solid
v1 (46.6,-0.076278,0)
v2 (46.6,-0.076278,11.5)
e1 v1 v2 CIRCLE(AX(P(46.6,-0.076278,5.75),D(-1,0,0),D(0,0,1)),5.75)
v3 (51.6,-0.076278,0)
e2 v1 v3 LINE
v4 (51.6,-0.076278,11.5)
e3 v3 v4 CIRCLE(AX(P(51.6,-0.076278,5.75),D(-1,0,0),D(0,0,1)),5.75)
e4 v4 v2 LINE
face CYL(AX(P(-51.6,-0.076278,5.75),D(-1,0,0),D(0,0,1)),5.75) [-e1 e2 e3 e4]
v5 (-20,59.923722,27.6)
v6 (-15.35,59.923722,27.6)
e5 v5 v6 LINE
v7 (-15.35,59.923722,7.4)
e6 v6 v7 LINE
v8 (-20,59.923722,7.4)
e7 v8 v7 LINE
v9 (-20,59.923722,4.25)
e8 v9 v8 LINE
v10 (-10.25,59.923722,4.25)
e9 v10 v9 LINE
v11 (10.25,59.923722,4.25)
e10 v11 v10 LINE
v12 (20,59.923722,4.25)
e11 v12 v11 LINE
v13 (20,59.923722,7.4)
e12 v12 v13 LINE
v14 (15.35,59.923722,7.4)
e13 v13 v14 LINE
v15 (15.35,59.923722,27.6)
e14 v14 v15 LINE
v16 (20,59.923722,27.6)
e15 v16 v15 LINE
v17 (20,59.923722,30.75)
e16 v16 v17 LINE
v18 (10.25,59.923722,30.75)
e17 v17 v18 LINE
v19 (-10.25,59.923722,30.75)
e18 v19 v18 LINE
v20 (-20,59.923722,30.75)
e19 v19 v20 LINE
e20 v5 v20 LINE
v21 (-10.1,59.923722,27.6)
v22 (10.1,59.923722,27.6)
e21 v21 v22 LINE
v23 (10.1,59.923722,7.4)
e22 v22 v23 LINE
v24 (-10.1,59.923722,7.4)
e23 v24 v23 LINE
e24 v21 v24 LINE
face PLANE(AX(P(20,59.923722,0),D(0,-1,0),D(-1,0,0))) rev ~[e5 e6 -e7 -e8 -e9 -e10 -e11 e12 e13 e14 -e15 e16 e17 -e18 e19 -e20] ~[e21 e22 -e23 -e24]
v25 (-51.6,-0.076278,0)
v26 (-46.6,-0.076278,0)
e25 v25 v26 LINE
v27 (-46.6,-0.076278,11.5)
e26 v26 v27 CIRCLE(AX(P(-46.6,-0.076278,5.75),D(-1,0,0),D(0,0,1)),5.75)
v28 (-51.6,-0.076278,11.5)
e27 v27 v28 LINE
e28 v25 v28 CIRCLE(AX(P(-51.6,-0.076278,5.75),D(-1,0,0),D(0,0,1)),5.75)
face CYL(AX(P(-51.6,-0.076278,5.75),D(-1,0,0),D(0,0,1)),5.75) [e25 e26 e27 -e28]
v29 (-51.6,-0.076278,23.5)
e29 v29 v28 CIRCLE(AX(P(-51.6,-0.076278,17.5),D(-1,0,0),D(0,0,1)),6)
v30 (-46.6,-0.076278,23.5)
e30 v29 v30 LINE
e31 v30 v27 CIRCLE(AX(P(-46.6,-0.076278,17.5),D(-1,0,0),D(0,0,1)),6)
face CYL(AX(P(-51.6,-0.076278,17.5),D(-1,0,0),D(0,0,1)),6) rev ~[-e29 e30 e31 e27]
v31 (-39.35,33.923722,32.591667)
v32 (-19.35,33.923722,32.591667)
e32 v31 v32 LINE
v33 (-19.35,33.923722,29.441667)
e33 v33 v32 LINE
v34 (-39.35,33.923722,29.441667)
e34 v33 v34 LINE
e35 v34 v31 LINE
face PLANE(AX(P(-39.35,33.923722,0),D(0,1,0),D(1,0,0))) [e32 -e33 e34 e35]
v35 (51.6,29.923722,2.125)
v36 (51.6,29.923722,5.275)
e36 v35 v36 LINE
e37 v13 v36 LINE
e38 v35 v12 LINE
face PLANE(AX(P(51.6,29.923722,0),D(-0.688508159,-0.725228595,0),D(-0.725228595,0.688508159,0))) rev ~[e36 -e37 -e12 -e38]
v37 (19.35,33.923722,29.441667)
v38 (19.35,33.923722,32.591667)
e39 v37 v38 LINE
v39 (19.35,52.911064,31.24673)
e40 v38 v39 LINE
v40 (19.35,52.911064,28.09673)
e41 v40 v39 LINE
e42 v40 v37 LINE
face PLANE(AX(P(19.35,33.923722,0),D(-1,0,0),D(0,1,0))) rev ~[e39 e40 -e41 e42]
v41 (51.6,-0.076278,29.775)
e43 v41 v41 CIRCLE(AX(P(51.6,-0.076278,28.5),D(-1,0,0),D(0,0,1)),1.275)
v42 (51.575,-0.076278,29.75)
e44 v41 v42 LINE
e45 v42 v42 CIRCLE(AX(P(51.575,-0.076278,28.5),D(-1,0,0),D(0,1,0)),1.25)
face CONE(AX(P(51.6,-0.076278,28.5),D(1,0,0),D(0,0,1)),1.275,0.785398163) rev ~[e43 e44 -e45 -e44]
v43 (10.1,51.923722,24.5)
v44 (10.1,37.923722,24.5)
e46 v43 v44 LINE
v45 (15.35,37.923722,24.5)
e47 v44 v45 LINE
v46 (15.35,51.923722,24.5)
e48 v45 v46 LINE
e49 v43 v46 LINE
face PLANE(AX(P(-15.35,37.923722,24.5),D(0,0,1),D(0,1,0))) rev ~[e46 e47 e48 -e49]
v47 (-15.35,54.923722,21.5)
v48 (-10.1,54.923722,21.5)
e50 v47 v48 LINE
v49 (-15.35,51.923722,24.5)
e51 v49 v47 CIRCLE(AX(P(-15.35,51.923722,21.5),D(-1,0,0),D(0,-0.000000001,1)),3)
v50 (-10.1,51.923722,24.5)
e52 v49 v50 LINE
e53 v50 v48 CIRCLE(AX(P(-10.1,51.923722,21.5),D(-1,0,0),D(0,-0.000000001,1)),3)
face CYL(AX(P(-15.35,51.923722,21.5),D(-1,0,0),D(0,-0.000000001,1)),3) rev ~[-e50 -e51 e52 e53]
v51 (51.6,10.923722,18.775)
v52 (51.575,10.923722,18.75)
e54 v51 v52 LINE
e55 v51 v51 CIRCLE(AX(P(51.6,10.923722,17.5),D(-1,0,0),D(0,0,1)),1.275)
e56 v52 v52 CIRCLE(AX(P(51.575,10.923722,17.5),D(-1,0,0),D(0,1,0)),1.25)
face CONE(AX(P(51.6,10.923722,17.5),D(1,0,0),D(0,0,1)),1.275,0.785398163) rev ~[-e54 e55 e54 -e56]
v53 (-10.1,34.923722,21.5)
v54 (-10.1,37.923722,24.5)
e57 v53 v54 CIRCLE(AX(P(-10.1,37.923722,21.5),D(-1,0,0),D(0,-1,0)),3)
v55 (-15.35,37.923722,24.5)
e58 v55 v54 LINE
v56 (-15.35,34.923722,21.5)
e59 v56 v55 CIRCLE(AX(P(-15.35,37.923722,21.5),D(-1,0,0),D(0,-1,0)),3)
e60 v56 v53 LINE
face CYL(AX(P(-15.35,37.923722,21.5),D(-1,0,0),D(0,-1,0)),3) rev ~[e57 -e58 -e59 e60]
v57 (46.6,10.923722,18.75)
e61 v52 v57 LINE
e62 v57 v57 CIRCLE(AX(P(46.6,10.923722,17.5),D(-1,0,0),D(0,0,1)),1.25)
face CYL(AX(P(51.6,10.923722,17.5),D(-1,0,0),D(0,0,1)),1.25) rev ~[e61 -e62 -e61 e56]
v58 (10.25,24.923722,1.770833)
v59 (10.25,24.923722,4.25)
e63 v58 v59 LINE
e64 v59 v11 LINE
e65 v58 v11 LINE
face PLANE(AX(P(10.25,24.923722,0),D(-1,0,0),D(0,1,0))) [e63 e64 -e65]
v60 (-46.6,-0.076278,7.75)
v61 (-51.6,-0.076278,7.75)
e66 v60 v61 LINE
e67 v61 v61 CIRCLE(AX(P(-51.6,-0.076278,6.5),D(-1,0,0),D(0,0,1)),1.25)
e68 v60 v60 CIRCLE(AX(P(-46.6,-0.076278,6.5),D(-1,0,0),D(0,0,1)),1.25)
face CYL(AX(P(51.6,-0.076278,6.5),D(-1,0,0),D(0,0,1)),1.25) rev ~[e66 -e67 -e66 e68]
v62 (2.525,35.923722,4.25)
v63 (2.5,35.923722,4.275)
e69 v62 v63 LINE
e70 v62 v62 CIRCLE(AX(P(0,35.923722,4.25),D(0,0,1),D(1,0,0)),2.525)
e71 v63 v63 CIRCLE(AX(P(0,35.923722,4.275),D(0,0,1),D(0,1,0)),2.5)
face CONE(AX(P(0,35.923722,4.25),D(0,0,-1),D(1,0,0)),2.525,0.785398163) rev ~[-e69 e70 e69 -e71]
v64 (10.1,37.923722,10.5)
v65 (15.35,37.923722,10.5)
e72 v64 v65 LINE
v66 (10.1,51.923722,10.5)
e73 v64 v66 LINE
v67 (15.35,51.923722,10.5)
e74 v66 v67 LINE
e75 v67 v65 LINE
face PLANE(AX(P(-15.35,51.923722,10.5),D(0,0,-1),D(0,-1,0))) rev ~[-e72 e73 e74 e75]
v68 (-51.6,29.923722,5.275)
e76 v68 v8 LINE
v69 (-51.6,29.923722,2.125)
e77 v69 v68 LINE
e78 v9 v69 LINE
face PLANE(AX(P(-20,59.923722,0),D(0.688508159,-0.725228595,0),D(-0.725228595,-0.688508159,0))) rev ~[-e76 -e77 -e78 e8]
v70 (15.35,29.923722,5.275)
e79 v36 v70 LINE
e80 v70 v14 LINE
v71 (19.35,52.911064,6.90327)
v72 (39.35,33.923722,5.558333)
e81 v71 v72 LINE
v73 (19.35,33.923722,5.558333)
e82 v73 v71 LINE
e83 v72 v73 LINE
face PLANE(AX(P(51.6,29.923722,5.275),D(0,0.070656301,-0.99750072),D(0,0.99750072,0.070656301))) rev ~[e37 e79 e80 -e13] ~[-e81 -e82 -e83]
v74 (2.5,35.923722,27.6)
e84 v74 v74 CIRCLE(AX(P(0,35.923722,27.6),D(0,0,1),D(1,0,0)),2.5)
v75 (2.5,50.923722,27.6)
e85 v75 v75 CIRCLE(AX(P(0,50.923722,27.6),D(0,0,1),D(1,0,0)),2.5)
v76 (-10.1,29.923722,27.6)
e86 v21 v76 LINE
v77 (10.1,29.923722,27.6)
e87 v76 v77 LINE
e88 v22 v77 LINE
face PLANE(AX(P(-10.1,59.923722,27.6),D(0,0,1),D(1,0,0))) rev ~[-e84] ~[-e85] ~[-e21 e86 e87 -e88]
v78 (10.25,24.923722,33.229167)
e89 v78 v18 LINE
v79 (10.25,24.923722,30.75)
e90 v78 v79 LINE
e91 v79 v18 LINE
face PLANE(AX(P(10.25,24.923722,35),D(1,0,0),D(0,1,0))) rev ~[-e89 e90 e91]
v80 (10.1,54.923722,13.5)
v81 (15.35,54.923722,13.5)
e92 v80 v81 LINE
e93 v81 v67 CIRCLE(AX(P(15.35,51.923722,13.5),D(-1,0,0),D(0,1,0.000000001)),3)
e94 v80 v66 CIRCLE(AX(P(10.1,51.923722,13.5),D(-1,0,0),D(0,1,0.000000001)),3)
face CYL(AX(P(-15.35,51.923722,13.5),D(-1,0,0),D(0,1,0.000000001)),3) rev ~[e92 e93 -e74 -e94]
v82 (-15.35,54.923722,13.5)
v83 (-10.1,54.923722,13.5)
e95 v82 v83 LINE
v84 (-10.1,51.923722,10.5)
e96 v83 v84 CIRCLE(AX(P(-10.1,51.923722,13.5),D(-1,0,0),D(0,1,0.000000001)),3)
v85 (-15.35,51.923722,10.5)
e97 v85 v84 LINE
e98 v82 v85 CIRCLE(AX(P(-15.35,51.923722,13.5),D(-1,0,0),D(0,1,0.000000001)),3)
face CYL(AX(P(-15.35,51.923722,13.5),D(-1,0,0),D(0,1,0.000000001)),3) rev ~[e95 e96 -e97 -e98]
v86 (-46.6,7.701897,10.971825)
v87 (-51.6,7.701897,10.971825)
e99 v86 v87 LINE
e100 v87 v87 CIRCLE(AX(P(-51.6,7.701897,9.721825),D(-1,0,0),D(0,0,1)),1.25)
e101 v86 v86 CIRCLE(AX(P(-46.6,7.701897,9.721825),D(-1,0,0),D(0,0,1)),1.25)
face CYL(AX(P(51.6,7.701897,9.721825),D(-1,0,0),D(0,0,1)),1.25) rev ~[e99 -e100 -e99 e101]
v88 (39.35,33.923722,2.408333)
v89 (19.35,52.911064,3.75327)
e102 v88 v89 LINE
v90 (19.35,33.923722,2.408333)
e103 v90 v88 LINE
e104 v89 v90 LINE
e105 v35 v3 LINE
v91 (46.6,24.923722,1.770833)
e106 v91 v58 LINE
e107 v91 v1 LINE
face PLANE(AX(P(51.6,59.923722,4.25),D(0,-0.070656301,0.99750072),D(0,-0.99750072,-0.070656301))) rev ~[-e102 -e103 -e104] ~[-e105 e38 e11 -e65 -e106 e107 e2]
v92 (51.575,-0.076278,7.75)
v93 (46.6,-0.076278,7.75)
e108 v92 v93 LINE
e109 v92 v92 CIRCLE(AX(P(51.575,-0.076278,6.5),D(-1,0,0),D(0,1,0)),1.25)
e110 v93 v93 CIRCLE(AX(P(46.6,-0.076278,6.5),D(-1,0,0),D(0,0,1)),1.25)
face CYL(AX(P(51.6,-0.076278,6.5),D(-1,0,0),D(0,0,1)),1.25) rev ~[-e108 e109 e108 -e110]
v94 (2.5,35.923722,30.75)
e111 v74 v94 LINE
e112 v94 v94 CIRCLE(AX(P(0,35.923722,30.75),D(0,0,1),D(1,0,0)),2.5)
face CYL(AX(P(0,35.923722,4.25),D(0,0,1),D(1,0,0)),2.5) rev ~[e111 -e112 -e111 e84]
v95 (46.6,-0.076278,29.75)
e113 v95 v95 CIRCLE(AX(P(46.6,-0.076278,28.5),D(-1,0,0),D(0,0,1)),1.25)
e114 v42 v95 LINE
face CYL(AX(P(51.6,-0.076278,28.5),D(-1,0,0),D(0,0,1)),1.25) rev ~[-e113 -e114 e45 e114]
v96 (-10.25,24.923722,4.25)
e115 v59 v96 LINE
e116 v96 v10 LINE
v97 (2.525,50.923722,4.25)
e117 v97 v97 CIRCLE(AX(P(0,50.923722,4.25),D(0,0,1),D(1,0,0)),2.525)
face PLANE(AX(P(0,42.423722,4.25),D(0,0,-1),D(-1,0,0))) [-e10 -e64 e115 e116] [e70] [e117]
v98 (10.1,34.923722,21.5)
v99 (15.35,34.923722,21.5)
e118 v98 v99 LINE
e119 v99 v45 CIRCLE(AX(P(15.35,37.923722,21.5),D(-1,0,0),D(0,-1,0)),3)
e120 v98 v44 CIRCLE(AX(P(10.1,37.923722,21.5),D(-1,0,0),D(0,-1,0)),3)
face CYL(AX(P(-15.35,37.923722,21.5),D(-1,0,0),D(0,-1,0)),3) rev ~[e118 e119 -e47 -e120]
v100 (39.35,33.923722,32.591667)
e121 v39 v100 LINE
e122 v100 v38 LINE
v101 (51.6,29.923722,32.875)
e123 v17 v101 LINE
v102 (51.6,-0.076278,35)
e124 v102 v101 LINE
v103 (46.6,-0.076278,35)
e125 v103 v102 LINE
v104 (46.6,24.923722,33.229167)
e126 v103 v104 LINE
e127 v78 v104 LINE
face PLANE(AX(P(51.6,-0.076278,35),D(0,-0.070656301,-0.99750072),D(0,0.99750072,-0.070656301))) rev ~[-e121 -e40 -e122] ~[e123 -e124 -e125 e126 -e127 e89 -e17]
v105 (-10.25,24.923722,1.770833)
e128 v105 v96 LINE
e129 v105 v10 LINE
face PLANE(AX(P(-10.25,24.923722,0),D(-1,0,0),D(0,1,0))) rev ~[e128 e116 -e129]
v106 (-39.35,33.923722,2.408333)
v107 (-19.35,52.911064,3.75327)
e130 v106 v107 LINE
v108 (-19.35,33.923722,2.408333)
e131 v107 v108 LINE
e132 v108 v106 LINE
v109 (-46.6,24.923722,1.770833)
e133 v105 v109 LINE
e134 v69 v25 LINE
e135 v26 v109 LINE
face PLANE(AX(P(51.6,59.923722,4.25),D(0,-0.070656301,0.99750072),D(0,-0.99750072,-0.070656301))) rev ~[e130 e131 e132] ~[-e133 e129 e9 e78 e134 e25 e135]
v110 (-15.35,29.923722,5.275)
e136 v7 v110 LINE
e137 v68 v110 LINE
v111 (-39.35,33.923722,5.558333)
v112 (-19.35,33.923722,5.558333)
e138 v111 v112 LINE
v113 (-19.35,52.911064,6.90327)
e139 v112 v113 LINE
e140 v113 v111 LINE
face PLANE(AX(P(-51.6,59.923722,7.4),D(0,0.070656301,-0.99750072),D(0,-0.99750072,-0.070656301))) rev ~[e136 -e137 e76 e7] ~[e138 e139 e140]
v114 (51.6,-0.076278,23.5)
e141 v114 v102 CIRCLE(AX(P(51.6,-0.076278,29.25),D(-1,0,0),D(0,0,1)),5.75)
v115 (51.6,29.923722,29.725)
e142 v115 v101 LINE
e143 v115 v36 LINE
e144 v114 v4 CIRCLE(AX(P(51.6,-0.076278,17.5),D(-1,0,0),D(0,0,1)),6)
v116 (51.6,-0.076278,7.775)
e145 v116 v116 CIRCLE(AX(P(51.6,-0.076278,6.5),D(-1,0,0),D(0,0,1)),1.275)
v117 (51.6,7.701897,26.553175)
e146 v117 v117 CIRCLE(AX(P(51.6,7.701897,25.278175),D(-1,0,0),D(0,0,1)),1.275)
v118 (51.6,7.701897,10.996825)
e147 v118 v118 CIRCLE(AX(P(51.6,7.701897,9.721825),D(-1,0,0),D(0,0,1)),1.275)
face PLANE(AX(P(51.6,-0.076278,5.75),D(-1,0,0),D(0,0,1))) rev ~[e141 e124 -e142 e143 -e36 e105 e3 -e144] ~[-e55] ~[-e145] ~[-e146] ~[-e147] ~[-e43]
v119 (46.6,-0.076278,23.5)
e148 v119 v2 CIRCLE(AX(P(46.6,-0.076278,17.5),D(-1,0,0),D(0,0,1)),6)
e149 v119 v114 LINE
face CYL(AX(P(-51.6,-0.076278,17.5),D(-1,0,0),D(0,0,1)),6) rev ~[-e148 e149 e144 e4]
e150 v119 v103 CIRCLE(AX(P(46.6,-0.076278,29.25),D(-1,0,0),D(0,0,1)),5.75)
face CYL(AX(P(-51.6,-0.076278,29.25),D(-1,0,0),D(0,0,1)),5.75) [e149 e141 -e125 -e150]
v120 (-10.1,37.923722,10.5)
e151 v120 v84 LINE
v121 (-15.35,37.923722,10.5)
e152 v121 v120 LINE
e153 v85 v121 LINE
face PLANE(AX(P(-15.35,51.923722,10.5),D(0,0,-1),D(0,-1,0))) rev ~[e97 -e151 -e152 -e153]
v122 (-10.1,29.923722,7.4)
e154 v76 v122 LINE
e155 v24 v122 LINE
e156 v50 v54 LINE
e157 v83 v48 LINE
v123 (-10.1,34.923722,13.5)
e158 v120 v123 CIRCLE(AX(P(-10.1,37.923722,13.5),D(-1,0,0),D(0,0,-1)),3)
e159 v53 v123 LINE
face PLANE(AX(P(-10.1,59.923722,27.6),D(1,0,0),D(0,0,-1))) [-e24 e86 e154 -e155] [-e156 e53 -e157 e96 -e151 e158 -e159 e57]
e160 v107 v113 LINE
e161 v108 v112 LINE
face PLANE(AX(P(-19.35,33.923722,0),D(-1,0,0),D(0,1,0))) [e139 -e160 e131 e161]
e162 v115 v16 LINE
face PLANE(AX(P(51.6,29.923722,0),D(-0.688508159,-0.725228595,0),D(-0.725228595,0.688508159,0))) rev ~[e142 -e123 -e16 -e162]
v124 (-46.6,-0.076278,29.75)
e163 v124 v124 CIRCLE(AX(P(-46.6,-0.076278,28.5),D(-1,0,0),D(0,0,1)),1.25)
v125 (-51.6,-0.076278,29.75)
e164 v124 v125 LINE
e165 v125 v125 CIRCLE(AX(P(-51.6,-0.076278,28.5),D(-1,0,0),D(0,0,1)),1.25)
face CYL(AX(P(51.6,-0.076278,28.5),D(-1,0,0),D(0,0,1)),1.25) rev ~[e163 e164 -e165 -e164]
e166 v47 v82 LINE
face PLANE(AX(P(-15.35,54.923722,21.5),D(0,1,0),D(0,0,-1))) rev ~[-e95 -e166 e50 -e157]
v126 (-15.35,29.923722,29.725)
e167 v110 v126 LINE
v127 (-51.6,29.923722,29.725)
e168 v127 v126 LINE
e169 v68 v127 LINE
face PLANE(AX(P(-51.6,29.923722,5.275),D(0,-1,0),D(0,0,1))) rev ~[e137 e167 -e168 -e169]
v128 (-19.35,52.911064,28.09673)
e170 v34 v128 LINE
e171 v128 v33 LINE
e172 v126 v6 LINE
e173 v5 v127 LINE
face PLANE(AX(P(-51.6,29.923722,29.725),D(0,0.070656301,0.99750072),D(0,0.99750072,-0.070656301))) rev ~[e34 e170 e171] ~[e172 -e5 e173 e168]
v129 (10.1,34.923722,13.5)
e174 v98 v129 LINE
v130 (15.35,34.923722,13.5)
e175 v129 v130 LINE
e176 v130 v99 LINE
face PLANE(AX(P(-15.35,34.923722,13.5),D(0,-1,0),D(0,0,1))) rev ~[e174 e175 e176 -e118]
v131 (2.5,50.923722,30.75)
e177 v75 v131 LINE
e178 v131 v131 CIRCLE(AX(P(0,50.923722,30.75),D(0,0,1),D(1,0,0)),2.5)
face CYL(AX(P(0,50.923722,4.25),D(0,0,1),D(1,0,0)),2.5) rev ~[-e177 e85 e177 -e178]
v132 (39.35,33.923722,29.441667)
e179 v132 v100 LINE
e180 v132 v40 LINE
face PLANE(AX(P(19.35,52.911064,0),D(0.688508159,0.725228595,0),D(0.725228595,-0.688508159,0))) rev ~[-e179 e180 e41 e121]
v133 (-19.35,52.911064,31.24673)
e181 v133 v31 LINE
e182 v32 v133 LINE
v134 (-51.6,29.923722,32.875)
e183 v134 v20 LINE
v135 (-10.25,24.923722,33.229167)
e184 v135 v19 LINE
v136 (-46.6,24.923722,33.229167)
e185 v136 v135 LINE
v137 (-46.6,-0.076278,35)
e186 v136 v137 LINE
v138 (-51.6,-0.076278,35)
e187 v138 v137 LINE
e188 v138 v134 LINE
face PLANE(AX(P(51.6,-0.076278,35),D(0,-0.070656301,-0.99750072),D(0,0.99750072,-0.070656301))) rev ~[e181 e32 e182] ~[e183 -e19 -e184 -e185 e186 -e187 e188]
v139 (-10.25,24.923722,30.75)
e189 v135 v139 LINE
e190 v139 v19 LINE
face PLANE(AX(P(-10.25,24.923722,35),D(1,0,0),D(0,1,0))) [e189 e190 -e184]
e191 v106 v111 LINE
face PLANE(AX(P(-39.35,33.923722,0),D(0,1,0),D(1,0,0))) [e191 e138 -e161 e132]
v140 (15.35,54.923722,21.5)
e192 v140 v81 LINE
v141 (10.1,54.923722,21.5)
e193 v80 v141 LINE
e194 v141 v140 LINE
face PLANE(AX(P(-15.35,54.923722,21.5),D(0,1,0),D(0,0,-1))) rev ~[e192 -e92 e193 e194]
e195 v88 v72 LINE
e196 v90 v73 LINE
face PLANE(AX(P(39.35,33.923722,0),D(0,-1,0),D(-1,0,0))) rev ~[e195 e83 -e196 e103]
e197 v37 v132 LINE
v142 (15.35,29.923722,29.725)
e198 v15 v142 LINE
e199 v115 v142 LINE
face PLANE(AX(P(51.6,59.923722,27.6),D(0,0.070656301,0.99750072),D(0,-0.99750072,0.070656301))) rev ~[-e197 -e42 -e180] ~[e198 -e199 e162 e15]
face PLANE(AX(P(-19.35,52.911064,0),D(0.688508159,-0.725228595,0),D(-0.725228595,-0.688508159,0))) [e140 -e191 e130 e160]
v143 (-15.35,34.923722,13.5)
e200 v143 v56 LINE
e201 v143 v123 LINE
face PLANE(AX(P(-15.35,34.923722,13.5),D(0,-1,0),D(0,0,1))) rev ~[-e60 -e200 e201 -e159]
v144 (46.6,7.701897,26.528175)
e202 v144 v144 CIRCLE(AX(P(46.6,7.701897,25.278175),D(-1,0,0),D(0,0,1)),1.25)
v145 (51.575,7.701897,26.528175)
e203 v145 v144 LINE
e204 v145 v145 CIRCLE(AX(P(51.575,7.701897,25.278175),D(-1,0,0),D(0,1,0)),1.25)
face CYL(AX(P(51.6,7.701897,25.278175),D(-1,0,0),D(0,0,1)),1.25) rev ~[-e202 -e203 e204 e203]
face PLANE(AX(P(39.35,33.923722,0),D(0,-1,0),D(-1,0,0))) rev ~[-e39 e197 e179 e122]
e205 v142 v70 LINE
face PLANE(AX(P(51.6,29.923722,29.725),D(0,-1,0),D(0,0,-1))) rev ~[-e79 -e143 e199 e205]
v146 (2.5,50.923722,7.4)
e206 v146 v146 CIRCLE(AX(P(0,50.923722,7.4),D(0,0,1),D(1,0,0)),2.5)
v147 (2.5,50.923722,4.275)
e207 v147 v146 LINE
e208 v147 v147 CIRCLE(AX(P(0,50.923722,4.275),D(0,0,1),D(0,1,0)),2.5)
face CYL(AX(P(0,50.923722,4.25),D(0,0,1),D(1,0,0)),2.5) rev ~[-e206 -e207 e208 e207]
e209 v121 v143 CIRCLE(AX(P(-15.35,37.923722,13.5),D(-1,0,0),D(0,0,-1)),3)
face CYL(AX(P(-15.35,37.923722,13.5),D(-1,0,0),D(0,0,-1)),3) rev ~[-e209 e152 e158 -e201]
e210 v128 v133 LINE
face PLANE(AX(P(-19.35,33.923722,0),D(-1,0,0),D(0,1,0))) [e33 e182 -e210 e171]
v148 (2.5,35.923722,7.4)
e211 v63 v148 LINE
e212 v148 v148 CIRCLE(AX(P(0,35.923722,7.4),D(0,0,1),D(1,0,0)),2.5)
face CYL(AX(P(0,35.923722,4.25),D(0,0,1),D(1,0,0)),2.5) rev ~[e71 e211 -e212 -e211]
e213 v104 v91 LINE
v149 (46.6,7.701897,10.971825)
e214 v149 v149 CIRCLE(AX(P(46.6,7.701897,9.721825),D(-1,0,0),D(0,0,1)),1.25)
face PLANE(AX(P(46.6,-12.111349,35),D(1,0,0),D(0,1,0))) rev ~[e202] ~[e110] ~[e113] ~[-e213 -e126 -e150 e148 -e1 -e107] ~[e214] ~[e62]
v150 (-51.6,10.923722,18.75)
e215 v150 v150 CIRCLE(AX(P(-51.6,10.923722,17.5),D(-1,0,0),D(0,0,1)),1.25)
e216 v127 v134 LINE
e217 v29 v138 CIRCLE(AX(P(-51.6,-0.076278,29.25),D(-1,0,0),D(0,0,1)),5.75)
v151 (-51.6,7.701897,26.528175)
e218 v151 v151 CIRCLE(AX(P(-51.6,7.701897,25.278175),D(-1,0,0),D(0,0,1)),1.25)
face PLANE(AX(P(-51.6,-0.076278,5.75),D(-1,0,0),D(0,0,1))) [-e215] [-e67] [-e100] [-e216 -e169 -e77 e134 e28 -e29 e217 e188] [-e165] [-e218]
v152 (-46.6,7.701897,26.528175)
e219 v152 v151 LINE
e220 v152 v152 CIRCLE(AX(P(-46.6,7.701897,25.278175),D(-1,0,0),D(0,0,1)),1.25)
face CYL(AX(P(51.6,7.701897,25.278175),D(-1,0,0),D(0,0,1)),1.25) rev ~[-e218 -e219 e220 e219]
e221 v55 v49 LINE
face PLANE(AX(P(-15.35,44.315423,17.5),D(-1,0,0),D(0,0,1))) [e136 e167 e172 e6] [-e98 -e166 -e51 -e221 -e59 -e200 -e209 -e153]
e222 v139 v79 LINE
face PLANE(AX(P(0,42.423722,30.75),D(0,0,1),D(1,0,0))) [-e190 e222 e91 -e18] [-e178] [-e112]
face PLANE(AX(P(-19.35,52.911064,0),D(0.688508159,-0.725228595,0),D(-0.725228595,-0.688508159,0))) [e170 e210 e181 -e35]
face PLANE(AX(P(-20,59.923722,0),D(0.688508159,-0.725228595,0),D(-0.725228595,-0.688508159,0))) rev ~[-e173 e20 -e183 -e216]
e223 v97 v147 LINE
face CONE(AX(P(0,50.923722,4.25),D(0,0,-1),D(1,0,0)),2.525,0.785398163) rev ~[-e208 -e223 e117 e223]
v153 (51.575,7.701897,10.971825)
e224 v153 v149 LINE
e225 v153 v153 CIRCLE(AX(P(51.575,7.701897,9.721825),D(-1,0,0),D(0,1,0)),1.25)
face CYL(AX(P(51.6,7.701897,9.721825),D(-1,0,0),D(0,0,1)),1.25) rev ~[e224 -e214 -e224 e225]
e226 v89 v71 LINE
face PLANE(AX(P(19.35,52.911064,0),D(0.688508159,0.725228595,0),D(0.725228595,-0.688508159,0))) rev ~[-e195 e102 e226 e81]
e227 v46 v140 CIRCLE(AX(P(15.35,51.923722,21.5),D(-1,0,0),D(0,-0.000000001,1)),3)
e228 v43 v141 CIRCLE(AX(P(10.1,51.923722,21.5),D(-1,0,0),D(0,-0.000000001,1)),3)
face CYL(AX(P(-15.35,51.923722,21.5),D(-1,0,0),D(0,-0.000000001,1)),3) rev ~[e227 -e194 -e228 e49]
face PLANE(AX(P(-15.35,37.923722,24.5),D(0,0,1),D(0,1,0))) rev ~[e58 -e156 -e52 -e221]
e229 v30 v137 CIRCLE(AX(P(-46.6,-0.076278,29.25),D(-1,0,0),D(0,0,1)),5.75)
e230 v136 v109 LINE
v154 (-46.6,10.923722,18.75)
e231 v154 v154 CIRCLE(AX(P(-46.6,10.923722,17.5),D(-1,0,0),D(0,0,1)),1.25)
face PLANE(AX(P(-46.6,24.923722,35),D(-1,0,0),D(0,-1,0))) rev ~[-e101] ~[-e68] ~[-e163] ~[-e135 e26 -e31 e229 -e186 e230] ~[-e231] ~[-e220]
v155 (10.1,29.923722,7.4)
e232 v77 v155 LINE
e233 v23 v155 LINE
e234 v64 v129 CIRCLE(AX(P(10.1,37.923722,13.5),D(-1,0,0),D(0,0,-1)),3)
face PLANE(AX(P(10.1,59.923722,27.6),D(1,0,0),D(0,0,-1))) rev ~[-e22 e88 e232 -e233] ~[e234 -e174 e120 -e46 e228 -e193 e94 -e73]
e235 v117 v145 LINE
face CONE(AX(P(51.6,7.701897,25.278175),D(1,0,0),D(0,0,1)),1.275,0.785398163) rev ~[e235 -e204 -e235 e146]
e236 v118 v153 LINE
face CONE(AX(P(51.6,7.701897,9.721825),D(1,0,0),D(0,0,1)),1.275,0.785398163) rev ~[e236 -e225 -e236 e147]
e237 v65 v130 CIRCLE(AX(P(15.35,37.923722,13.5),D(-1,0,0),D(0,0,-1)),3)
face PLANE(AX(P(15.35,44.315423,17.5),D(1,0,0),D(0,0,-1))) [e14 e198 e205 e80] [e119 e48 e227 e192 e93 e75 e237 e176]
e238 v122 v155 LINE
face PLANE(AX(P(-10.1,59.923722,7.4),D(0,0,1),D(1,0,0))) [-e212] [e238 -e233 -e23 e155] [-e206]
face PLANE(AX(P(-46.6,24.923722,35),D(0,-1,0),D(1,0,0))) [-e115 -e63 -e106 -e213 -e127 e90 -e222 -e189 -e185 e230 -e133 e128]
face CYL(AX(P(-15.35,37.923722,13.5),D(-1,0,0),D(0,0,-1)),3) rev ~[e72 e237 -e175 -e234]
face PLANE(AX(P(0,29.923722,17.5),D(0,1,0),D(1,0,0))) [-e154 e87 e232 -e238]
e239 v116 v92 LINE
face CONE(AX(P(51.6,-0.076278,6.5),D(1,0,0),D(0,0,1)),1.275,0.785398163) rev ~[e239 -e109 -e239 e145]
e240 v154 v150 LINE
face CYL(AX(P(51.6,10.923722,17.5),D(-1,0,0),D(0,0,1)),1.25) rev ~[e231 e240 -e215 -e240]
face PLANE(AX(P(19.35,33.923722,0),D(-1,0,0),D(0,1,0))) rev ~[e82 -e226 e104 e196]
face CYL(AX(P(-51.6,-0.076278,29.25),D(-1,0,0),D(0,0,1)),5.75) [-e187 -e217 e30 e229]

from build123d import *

# Parameters (mm, degrees)
EXTRUDE_1_DEPTH       = 35
SKETCH_6_R            = 6
CUT_EXTRUDE_2_DEPTH   = 103.2
SKETCH_7_R            = 5.75
EXTRUDE_3_DEPTH       = 103.2
CUT_EXTRUDE_3_REACH   = 88.478
F_2_5MM_2_D           = 2.5
F_2_5MM_2_CSINK_D     = 2.55
F_2_5MM_2_CSINK_ANGLE = 90
SKETCH_16_W           = 20.2
SKETCH_16_H           = 20.2
CUT_EXTRUDE_5_DEPTH   = 30
SKETCH_15_W           = 20.5
SKETCH_15_H           = 35
CUT_EXTRUDE_6_DEPTH   = 4.25
SKETCH_17_W           = 20.5
SKETCH_17_H           = 35
CUT_EXTRUDE_7_DEPTH   = 4.25
F_5_0MM_1_D           = 5
F_5_0MM_1_CSINK_D     = 5.05
F_5_0MM_1_CSINK_ANGLE = 90
CUT_EXTRUDE_8_REACH   = 126.363
CUT_EXTRUDE_9_DEPTH   = 36.25
CUT_EXTRUDE_10_DEPTH  = 36.25
CUT_EXTRUDE_11_REACH  = 98.427
CUT_EXTRUDE_12_DEPTH  = 87.477815158


with BuildPart() as part:
    # 草图1 → 凸台-拉伸1 (new body)
    with BuildSketch(Plane.XY):
        Polygon((51.6, -0.076277531), (51.6, 29.923722469), (20, 59.923722469), (-20, 59.923722469), (-51.6, 29.923722469), (-51.6, -0.076277531), align=None)
    extrude(amount=EXTRUDE_1_DEPTH)

    # 草图6 → 切除-拉伸2 (cut)
    with BuildSketch(Plane.ZY.offset(51.6)):
        with Locations((17.5, -0.076277531)):
            Circle(SKETCH_6_R)
    extrude(amount=-CUT_EXTRUDE_2_DEPTH, mode=Mode.SUBTRACT)

    # 草图7 → 凸台-拉伸3 (add)
    with BuildSketch(Plane.ZY.offset(51.6)):
        with Locations((5.75, -0.076277531)):
            Circle(SKETCH_7_R)
        with Locations((29.25, -0.076277531)):
            Circle(SKETCH_7_R)
    extrude(amount=-EXTRUDE_3_DEPTH)

    # 切除-拉伸3: up to this face of the body (flat: up to its plane)
    cut_extrude_3_end = Plane(part.part.faces().sort_by_distance((0, 26.308161829, 0))[0])
    # 草图8 → 切除-拉伸3 (cut, up to the picked face)
    with BuildSketch(Plane.XY.offset(35), mode=Mode.PRIVATE) as cut_extrude_3_sk1:
        Polygon((-46.6, -0.076277531), (-46.6, 24.923722469), (46.6, 24.923722469), (46.6, -0.076277531), (46.6, -12.111349377), (-46.6, -12.111349377), align=None)
    cut_extrude_3_tool1 = split(extrude(cut_extrude_3_sk1.sketch, amount=-CUT_EXTRUDE_3_REACH, mode=Mode.PRIVATE), bisect_by=cut_extrude_3_end, keep=Keep.BOTH, mode=Mode.PRIVATE)
    add(cut_extrude_3_tool1.solids().sort_by(Axis((0, 6.406187, 35), (0, 0, -1)))[0], mode=Mode.SUBTRACT)

    # Ø2.5mm 暗销孔2 (through all)
    with Locations(Plane(origin=(51.6, 0, 0), x_dir=(0, 0, -1), z_dir=(1, 0, 0))):
        with Locations((-28.5, -0.076277531), (-25.278174593, 7.701897062), (-17.5, 10.923722469), (-9.721825407, 7.701897062), (-6.5, -0.076277531)):
            CounterSinkHole(F_2_5MM_2_D / 2, F_2_5MM_2_CSINK_D / 2, counter_sink_angle=F_2_5MM_2_CSINK_ANGLE)

    # 草图16 → 切除-拉伸5 (cut)
    with BuildSketch(Plane(origin=(0, 59.923722469, 0), x_dir=(1, 0, 0), z_dir=(0, 1, 0))):
        with Locations((0, -17.5)):
            Rectangle(SKETCH_16_W, SKETCH_16_H)
    extrude(amount=-CUT_EXTRUDE_5_DEPTH, mode=Mode.SUBTRACT)

    # 草图15 → 切除-拉伸6 (cut)
    with BuildSketch(Plane.XY.offset(35)):
        with Locations((0, 42.423722469)):
            Rectangle(SKETCH_15_W, SKETCH_15_H)
    extrude(amount=-CUT_EXTRUDE_6_DEPTH, mode=Mode.SUBTRACT)

    # 草图17 → 切除-拉伸7 (cut)
    with BuildSketch(Plane(origin=(0, 0, 0), x_dir=(-1, 0, 0), z_dir=(0, 0, -1))):
        with Locations((0, 42.423722469)):
            Rectangle(SKETCH_17_W, SKETCH_17_H)
    extrude(amount=-CUT_EXTRUDE_7_DEPTH, mode=Mode.SUBTRACT)

    # Ø5.0mm 暗销孔1 (through all)
    with Locations(Plane(origin=(0, 0, 4.25), x_dir=(-1, 0, 0), z_dir=(0, 0, -1))):
        with Locations((0, 50.923722469), (0, 35.923722469)):
            CounterSinkHole(F_5_0MM_1_D / 2, F_5_0MM_1_CSINK_D / 2, counter_sink_angle=F_5_0MM_1_CSINK_ANGLE)

    # 切除-拉伸8: up to this face of the body (flat: up to its plane)
    cut_extrude_8_end = Plane(part.part.faces().sort_by_distance((-51.6, 14.113222329, 17.5))[0])
    # 草图20 → 切除-拉伸8 (cut, up to the picked face)
    with BuildSketch(Plane(origin=(51.6, 0, 0), x_dir=(0, 0, -1), z_dir=(1, 0, 0)), mode=Mode.PRIVATE) as cut_extrude_8_sk1:
        Polygon((-30.75, 59.923722469), (-35, 59.923722469), (-35, -0.076277531), align=None)
    cut_extrude_8_tool1 = split(extrude(cut_extrude_8_sk1.sketch, amount=-CUT_EXTRUDE_8_REACH, mode=Mode.PRIVATE), bisect_by=cut_extrude_8_end, keep=Keep.BOTH, mode=Mode.PRIVATE)
    # 草图20 → 切除-拉伸8 (cut, up to the picked face)
    with BuildSketch(Plane(origin=(51.6, 0, 0), x_dir=(0, 0, -1), z_dir=(1, 0, 0)), mode=Mode.PRIVATE) as cut_extrude_8_sk2:
        Polygon((0, -0.076277531), (0, 59.923722469), (-4.25, 59.923722469), align=None)
    cut_extrude_8_tool2 = split(extrude(cut_extrude_8_sk2.sketch, amount=-CUT_EXTRUDE_8_REACH, mode=Mode.PRIVATE), bisect_by=cut_extrude_8_end, keep=Keep.BOTH, mode=Mode.PRIVATE)
    add(cut_extrude_8_tool1.solids().sort_by(Axis((51.6, 39.923722, 33.583333), (-1, 0, 0)))[0], mode=Mode.SUBTRACT)
    add(cut_extrude_8_tool2.solids().sort_by(Axis((51.6, 39.923722, 1.416667), (-1, 0, 0)))[0], mode=Mode.SUBTRACT)

    # 草图21 → 切除-拉伸9 (cut)
    with BuildSketch(Plane(origin=(51.6, 0, 0), x_dir=(0, 0, -1), z_dir=(1, 0, 0))):
        Polygon((-27.6, 59.923722469), (-29.725, 29.923722469), (-5.275, 29.923722469), (-7.4, 59.923722469), align=None)
    extrude(amount=-CUT_EXTRUDE_9_DEPTH, mode=Mode.SUBTRACT)

    # 草图22 → 切除-拉伸10 (cut)
    with BuildSketch(Plane.ZY.offset(51.6)):
        Polygon((29.725, 29.923722469), (27.6, 59.923722469), (7.4, 59.923722469), (5.275, 29.923722469), align=None)
    extrude(amount=-CUT_EXTRUDE_10_DEPTH, mode=Mode.SUBTRACT)

    # 切除-拉伸11: up to this face of the body (flat: up to its plane)
    cut_extrude_11_end = Plane(part.part.faces().sort_by_distance((15.35, 44.447798617, 17.5))[0])
    # 草图23 → 切除-拉伸11 (cut, up to the picked face)
    with BuildSketch(Plane.ZY.offset(15.35), mode=Mode.PRIVATE) as cut_extrude_11_sk1:
        with BuildLine():
            Line((13.5, 34.923722469), (21.5, 34.923722469))
            ThreePointArc((21.5, 34.923722469), (23.621320344, 35.802402126), (24.5, 37.923722469))
            Line((24.5, 37.923722469), (24.5, 51.923722469))
            ThreePointArc((24.5, 51.923722469), (23.621320344, 54.045042813), (21.5, 54.923722469))
            Line((21.5, 54.923722469), (13.5, 54.923722469))
            ThreePointArc((13.5, 54.923722469), (11.378679656, 54.045042813), (10.5, 51.923722469))
            Line((10.5, 51.923722469), (10.5, 37.923722469))
            ThreePointArc((10.5, 37.923722469), (11.378679656, 35.802402126), (13.5, 34.923722469))
        make_face()
    cut_extrude_11_tool1 = split(extrude(cut_extrude_11_sk1.sketch, amount=-CUT_EXTRUDE_11_REACH, mode=Mode.PRIVATE), bisect_by=cut_extrude_11_end, keep=Keep.BOTH, mode=Mode.PRIVATE)
    add(cut_extrude_11_tool1.solids().sort_by(Axis((-15.35, 44.923722, 17.5), (1, 0, 0)))[0], mode=Mode.SUBTRACT)

    # 草图25 → 切除-拉伸12 (cut, through all)
    with BuildSketch(Plane.XY):
        Polygon((39.35, 33.923722469), (19.35, 33.923722469), (19.35, 52.911064241), align=None)
        Polygon((-19.35, 52.911064241), (-39.35, 33.923722469), (-19.35, 33.923722469), align=None)
    extrude(amount=CUT_EXTRUDE_12_DEPTH, mode=Mode.SUBTRACT)


solid = part.part
